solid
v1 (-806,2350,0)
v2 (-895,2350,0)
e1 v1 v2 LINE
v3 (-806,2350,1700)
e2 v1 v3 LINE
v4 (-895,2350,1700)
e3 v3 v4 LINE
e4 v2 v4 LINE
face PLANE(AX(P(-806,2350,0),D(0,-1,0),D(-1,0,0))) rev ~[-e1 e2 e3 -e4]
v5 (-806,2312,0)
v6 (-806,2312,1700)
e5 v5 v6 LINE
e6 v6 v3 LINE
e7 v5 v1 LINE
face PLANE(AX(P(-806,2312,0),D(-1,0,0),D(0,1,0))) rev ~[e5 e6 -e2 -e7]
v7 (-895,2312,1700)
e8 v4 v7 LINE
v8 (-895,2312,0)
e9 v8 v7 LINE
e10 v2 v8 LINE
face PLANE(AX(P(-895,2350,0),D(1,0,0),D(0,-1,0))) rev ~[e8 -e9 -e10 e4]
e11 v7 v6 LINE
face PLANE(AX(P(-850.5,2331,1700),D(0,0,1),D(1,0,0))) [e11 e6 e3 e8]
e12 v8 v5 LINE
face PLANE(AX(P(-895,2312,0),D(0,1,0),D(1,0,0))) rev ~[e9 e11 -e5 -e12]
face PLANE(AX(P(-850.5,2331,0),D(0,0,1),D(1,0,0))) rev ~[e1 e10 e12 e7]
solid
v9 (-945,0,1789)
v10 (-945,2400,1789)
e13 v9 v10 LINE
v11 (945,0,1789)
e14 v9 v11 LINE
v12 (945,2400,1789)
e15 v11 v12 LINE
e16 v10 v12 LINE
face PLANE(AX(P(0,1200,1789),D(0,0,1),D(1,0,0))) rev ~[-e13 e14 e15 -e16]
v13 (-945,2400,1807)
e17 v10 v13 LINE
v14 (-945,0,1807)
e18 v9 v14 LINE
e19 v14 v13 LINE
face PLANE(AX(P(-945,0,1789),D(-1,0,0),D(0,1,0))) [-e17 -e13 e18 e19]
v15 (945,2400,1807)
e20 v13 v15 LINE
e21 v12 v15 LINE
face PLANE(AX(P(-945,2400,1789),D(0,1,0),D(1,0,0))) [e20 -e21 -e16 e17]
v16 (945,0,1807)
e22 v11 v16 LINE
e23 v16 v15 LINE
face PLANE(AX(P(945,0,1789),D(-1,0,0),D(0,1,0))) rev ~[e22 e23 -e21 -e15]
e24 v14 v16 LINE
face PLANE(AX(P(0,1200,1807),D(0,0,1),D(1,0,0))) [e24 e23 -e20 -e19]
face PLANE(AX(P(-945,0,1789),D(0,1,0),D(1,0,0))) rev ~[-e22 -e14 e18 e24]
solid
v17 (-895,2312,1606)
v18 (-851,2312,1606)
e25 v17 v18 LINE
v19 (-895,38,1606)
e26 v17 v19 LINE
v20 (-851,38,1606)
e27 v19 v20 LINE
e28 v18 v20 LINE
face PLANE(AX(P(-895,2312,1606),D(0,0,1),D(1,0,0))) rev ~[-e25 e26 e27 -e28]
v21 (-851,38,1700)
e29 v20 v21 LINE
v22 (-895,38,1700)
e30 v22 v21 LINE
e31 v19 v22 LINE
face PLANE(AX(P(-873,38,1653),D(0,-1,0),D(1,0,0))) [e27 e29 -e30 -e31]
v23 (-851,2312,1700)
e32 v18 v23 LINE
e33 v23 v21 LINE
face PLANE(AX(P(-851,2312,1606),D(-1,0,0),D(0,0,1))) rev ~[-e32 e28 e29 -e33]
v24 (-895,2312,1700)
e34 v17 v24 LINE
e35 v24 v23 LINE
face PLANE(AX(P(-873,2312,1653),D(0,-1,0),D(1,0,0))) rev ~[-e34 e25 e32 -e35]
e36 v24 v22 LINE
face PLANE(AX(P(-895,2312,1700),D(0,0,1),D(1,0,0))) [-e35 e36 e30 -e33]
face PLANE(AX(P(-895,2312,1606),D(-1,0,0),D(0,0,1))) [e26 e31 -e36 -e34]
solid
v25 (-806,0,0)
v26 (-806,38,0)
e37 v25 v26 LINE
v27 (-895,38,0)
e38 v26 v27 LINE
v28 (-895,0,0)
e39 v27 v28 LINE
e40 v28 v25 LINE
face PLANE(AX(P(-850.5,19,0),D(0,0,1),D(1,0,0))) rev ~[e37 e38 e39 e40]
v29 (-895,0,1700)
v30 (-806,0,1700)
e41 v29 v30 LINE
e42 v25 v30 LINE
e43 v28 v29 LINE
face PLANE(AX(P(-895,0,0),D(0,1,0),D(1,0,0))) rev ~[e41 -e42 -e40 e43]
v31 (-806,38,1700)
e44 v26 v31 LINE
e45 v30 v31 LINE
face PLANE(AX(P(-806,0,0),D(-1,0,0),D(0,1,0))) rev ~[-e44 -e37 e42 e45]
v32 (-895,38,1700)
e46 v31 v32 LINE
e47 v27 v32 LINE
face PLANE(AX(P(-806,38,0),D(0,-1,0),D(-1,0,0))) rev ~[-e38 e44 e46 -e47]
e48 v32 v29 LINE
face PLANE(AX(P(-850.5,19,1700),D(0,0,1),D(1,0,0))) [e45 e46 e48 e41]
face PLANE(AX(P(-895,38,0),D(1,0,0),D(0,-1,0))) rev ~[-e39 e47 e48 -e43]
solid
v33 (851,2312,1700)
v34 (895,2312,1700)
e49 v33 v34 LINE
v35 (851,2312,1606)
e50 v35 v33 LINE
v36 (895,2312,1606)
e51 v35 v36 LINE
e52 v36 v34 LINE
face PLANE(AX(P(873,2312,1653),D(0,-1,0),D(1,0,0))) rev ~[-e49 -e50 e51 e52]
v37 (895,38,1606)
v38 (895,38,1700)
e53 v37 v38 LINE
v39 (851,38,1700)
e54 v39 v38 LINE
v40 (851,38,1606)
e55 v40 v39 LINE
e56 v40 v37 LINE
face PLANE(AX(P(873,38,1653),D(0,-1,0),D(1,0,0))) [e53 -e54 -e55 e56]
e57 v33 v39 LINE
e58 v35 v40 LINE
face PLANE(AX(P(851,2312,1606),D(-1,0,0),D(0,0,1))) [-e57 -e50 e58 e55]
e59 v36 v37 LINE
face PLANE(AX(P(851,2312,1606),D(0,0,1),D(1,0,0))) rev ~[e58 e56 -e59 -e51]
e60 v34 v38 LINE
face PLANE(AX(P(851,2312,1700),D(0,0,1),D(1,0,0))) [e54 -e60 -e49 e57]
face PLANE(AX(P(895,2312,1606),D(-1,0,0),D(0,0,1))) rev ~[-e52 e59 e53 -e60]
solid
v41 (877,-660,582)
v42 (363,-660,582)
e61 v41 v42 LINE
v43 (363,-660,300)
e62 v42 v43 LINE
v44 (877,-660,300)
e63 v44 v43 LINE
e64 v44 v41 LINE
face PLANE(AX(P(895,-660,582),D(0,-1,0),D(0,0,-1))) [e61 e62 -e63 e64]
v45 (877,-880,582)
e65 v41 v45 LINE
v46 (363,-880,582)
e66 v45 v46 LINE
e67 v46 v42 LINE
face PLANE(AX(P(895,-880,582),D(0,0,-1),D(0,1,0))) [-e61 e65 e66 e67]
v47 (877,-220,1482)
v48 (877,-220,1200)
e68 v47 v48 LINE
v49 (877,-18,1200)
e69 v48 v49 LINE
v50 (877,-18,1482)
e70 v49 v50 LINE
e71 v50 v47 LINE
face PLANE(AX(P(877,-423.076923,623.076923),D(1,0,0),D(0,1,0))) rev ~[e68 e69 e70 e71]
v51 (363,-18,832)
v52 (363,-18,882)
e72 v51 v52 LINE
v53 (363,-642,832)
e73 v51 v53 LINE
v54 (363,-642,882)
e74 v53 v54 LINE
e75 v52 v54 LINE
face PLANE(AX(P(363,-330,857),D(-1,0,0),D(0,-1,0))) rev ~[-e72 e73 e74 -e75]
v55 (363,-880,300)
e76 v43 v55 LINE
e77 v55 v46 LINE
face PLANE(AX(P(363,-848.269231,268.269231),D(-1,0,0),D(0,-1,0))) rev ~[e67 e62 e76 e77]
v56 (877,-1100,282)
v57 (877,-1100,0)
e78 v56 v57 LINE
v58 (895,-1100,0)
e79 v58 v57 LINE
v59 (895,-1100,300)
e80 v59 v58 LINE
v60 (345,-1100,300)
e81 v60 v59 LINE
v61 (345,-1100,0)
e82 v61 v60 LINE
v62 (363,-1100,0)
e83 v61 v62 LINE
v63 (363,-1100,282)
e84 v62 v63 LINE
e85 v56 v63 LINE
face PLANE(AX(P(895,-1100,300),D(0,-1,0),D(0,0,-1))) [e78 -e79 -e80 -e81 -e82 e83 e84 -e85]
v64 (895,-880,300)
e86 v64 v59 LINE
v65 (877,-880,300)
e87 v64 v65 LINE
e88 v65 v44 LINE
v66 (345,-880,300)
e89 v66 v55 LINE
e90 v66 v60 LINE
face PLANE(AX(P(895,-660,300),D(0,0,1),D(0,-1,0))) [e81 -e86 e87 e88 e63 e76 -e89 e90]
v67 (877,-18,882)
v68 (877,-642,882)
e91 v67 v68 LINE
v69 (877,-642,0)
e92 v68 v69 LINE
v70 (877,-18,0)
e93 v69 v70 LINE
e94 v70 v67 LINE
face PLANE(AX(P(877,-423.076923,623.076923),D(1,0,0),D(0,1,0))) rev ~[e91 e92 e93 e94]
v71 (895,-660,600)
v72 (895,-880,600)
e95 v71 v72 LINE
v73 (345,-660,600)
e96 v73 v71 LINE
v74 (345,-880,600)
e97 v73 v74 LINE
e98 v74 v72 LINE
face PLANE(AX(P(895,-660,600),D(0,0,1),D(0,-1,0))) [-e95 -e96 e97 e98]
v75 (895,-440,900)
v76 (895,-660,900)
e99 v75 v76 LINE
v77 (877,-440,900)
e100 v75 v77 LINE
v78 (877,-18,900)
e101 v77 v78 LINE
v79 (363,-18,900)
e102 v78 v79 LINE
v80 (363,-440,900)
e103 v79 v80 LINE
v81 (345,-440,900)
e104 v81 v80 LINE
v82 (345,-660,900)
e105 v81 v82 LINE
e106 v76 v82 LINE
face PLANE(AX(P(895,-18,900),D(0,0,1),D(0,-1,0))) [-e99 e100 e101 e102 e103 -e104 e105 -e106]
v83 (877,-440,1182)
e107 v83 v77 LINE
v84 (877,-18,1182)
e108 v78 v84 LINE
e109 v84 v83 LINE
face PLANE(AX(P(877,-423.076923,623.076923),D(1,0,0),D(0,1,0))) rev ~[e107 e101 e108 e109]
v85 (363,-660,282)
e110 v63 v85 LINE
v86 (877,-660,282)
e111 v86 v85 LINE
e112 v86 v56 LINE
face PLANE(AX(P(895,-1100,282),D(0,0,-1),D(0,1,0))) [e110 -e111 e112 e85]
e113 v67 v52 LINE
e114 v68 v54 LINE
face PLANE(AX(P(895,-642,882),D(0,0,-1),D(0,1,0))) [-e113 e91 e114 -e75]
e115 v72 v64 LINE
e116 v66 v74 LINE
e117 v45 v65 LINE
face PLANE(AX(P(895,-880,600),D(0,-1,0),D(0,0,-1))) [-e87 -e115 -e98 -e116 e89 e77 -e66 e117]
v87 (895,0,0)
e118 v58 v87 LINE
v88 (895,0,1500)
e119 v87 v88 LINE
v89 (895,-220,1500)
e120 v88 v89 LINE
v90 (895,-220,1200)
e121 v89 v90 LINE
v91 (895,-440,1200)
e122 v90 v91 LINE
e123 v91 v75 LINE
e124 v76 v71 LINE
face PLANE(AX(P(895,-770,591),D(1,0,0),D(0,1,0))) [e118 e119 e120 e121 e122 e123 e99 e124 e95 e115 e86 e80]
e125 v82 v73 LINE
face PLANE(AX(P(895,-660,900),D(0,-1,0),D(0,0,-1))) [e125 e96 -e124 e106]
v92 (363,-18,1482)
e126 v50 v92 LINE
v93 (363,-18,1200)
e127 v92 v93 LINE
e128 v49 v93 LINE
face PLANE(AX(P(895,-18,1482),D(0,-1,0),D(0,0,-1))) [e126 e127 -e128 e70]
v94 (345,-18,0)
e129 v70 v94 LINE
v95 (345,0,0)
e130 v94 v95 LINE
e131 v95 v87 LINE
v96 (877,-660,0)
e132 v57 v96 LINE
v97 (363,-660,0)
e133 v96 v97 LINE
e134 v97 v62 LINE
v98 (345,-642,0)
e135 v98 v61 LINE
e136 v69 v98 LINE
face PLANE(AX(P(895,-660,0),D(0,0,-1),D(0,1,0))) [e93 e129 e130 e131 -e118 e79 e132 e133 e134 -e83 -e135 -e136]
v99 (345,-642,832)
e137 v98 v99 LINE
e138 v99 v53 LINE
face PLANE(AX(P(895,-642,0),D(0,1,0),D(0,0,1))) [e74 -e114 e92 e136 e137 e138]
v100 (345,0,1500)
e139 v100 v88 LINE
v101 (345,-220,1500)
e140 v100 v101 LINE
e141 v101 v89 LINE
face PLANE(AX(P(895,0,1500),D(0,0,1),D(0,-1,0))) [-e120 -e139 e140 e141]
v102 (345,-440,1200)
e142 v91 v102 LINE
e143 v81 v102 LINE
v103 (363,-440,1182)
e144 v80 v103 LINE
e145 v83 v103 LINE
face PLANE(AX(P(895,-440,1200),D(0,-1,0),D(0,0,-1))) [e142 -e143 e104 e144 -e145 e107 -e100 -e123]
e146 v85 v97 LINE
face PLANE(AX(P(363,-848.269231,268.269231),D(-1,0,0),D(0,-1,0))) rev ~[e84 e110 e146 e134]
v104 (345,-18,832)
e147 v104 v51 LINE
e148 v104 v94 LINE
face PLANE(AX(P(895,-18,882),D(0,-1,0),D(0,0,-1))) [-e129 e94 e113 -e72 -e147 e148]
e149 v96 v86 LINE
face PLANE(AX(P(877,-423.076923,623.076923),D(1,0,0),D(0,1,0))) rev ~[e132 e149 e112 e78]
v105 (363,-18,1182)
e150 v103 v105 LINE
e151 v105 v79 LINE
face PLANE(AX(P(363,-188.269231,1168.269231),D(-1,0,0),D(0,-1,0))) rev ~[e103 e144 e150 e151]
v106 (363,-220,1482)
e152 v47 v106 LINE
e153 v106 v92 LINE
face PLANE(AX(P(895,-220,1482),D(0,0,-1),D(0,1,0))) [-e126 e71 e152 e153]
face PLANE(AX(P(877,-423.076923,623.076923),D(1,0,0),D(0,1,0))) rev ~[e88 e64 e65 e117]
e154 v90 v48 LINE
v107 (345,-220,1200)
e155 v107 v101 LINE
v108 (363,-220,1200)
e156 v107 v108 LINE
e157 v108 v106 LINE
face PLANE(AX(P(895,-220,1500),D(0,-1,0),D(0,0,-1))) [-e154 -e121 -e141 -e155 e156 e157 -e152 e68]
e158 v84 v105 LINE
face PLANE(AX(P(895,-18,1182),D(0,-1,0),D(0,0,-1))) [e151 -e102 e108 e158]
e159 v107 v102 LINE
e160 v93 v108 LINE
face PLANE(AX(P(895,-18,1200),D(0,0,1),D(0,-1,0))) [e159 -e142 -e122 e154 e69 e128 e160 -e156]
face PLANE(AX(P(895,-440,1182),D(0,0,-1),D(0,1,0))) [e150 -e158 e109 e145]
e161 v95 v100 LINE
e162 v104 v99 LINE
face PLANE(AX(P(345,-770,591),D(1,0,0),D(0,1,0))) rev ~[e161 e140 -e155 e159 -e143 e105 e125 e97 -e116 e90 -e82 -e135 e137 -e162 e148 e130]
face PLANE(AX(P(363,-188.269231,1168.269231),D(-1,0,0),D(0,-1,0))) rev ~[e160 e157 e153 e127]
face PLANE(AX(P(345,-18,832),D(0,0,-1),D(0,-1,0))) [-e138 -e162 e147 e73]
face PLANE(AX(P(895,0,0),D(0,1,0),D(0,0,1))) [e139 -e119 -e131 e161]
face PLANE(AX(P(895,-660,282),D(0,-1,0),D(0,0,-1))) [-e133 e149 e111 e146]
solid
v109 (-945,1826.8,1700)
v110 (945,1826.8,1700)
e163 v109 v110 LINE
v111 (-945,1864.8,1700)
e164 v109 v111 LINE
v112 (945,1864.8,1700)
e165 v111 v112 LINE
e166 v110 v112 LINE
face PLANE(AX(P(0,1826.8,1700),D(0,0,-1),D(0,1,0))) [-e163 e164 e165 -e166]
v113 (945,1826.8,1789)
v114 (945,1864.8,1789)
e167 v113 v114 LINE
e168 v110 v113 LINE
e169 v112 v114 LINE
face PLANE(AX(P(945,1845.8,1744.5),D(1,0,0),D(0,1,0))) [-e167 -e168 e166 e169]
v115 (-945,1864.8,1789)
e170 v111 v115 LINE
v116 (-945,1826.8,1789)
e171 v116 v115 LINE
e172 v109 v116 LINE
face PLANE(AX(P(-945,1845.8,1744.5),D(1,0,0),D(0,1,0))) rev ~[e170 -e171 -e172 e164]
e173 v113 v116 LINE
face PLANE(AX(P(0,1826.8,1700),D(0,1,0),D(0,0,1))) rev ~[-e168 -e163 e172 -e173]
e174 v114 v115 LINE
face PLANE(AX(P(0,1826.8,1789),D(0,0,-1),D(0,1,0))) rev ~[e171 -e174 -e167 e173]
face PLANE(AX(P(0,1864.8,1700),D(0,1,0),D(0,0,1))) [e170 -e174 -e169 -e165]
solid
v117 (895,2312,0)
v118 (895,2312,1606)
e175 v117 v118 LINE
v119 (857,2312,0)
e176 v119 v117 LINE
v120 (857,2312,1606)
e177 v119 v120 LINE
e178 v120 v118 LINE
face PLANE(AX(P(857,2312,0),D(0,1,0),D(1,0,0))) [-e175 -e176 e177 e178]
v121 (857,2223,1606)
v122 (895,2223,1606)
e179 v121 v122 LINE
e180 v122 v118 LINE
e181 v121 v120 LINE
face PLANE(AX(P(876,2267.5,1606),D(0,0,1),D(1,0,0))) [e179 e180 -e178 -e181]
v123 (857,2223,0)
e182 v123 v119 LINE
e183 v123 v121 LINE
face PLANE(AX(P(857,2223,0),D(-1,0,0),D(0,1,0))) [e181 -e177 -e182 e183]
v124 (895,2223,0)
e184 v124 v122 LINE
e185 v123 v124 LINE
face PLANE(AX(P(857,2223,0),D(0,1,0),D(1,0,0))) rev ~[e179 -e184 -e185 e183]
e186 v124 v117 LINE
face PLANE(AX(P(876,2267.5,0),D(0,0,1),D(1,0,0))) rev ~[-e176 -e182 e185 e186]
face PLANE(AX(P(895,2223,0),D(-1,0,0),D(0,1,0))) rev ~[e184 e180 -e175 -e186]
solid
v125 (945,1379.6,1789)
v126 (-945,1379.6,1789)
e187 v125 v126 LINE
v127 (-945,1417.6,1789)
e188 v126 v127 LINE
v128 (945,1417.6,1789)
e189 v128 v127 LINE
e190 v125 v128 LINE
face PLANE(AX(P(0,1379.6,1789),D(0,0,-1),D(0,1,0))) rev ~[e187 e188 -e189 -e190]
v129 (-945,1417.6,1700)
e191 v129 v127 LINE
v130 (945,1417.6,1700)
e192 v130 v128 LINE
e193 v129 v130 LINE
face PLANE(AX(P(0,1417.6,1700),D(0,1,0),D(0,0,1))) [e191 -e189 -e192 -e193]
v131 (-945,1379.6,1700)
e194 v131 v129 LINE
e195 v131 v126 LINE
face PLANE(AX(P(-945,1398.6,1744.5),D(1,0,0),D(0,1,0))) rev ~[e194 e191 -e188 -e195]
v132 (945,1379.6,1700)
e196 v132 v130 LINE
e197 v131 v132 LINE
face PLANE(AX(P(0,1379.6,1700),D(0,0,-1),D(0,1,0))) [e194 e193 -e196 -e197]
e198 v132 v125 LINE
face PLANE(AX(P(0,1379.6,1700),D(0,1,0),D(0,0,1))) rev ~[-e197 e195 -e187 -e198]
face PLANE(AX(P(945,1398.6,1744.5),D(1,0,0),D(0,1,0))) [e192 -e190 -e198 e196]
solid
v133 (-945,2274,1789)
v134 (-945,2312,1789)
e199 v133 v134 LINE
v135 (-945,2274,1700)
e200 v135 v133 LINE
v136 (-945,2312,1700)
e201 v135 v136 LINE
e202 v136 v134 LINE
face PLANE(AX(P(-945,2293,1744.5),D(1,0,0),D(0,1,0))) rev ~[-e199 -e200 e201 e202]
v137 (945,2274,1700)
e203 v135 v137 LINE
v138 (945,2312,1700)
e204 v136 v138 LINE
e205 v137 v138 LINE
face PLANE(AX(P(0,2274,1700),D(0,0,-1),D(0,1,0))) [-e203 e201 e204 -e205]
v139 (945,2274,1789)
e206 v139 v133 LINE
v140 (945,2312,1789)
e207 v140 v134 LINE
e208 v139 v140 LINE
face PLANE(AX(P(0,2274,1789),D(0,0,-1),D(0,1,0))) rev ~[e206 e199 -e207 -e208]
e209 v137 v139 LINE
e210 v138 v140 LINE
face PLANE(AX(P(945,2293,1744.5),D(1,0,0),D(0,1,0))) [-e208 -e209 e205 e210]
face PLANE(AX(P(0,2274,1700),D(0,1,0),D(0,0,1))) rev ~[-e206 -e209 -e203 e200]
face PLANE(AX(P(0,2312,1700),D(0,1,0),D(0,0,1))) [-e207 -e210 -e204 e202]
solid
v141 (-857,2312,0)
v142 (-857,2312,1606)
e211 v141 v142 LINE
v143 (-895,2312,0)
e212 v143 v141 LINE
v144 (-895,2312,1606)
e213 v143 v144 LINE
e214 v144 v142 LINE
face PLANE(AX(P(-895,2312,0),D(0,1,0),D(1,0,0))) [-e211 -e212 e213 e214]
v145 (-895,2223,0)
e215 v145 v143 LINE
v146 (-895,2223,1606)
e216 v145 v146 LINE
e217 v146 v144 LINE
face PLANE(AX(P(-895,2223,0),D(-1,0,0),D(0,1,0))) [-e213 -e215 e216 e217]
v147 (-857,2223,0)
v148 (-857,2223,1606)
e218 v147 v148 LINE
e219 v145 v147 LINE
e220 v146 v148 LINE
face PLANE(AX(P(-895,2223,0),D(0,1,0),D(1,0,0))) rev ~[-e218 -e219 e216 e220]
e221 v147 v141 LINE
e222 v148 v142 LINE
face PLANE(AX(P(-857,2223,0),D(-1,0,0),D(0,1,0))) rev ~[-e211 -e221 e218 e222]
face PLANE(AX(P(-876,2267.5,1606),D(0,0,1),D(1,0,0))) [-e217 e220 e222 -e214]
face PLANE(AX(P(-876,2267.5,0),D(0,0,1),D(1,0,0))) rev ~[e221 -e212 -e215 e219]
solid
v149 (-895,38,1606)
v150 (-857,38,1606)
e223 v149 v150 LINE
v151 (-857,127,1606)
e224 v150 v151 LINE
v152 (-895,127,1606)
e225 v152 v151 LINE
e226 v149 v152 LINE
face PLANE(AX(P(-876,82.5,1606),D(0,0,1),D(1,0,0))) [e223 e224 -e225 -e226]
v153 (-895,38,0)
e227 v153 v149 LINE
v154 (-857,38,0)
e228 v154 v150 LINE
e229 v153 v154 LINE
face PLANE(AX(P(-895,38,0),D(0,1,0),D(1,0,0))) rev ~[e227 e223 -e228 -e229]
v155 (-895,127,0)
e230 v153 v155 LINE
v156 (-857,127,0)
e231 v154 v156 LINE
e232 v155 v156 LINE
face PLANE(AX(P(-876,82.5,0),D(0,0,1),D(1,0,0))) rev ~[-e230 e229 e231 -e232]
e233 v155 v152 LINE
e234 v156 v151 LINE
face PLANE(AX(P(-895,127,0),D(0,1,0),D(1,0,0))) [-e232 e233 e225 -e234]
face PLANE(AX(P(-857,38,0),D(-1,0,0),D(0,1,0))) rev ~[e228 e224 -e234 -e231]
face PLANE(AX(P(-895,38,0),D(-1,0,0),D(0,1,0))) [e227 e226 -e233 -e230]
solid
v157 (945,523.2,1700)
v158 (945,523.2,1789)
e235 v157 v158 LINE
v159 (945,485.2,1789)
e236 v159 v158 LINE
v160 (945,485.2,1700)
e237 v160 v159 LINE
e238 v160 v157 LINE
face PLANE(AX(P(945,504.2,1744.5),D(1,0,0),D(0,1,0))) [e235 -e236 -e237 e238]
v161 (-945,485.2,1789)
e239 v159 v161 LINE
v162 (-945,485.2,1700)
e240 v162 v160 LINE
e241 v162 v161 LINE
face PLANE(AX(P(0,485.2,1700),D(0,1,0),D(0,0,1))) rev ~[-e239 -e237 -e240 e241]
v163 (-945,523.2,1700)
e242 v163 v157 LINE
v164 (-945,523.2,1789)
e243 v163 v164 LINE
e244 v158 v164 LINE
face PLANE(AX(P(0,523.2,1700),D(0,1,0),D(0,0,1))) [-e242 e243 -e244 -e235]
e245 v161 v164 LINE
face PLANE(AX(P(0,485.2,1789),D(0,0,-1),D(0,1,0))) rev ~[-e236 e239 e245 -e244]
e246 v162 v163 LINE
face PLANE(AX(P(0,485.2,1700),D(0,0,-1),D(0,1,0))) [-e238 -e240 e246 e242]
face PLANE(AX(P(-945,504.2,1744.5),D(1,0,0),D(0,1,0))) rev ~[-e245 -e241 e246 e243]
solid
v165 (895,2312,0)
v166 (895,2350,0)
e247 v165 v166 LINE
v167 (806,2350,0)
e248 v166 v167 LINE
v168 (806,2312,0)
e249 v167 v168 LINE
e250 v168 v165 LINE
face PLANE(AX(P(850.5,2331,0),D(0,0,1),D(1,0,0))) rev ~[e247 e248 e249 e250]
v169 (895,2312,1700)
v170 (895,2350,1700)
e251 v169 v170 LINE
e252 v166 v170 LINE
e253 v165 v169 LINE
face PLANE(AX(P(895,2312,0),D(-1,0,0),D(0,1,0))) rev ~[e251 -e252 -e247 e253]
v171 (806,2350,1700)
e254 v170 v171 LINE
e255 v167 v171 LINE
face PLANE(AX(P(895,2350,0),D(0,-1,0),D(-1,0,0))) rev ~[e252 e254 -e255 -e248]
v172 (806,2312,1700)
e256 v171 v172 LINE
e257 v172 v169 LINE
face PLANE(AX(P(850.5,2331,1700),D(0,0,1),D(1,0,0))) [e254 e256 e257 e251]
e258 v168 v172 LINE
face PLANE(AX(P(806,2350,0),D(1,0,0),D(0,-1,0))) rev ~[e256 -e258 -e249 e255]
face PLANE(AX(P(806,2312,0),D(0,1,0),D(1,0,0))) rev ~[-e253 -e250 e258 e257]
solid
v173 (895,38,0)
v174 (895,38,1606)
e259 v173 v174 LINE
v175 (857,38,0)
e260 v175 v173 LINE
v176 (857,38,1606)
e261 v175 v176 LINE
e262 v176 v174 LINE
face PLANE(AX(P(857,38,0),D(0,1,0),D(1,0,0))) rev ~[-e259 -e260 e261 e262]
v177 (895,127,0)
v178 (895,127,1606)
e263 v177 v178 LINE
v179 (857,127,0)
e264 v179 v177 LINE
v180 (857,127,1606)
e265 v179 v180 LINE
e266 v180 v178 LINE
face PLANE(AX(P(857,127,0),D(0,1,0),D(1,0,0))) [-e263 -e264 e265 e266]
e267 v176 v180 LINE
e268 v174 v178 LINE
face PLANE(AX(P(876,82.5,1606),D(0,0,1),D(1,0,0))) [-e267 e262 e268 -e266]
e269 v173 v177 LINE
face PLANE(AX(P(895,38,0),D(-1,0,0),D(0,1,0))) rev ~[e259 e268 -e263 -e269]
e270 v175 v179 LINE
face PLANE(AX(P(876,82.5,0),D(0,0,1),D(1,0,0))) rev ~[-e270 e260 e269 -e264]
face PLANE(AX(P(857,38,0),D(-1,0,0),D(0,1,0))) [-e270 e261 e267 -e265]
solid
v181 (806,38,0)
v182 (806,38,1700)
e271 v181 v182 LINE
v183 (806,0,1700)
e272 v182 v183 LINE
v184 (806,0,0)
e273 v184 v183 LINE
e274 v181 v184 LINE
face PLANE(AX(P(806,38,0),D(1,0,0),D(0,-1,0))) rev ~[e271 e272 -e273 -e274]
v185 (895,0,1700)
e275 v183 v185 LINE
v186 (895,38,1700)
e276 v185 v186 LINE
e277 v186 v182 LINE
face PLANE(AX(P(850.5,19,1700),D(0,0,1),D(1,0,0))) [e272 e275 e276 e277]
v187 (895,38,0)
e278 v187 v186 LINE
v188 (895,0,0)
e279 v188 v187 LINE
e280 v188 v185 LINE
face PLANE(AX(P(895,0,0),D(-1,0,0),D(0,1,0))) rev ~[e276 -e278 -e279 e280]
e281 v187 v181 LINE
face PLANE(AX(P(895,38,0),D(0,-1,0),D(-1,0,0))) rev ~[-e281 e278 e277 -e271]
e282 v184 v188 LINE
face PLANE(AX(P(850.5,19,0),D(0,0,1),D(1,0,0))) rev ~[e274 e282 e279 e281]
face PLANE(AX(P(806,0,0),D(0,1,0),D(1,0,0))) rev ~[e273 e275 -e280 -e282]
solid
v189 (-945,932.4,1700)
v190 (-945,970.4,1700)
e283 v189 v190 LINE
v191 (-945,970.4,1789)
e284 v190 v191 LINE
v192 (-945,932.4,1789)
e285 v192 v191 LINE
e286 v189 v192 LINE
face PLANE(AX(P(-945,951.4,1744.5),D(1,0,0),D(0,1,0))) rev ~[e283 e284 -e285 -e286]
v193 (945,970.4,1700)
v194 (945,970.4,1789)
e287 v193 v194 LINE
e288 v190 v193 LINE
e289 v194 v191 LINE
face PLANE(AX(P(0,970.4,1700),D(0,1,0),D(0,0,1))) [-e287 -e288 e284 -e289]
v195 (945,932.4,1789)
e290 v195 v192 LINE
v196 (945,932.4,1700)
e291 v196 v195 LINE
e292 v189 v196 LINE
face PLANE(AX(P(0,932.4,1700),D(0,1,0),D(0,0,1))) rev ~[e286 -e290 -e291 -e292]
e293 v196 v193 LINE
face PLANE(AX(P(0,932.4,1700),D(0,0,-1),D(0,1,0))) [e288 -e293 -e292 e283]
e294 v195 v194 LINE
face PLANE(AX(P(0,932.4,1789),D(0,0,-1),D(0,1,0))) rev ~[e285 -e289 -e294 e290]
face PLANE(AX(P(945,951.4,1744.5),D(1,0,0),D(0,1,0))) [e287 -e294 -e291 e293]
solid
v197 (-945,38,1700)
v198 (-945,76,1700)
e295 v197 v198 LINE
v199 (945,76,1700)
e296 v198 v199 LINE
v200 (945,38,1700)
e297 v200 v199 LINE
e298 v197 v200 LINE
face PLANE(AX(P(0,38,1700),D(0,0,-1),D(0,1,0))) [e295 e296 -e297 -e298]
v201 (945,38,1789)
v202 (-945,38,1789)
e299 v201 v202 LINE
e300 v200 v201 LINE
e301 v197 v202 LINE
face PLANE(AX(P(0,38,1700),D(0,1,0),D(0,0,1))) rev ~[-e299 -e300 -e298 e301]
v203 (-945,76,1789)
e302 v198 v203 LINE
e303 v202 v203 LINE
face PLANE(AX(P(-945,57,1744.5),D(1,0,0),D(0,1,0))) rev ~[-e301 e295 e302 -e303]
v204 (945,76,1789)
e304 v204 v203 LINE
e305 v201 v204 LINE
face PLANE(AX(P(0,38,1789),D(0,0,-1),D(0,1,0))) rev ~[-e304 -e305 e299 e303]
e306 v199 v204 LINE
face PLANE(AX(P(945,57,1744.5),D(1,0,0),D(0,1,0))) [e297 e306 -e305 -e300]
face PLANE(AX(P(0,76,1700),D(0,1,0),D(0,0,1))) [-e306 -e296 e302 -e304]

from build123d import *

# Parameters (mm, degrees)
F1_DEPTH      = 1700
F0_W          = 38
F0_H          = 89
F2_DEPTH      = 1606
F3_W          = 44
F3_H          = 94
F4_DEPTH      = 2274
F5_W          = 38
F5_H          = 89
F6_DEPTH      = 945
F6_DEPTH_BACK = 945
F7_W          = 1890
F7_H          = 2400
F8_DEPTH      = 18
F10_DEPTH     = 550
F12_DEPTH     = 18
F13_W         = 624
F13_H         = 50
F14_DEPTH     = 18


with BuildPart() as f1:
    # F0 (on Top) → F1 (new body)
    with BuildSketch(Plane.XY):
        Polygon((-806, 2350), (-895, 2350), (-895, 2312), (-857, 2312), (-806, 2312), align=None)
    extrude(amount=F1_DEPTH)


with BuildPart() as f1b:
    # F0 (on Top) → F1, piece 2 (new body)
    with BuildSketch(Plane.XY):
        Polygon((895, 2350), (806, 2350), (806, 2312), (857, 2312), (895, 2312), align=None)
    extrude(amount=F1_DEPTH)


with BuildPart() as f1c:
    # F0 (on Top) → F1, piece 3 (new body)
    with BuildSketch(Plane.XY):
        Polygon((895, 0), (895, 38), (857, 38), (806, 38), (806, 0), align=None)
    extrude(amount=F1_DEPTH)


with BuildPart() as f1d:
    # F0 (on Top) → F1, piece 4 (new body)
    with BuildSketch(Plane.XY):
        Polygon((-895, 38), (-895, 0), (-806, 0), (-806, 38), (-857, 38), align=None)
    extrude(amount=F1_DEPTH)


with BuildPart() as f2:
    # F0 (on Top) → F2 (new body)
    with BuildSketch(Plane.XY):
        with Locations((-876, 2267.5)):
            Rectangle(F0_W, F0_H)
    extrude(amount=F2_DEPTH)


with BuildPart() as f2b:
    # F0 (on Top) → F2, piece 2 (new body)
    with BuildSketch(Plane.XY):
        with Locations((876, 2267.5)):
            Rectangle(F0_W, F0_H)
    extrude(amount=F2_DEPTH)


with BuildPart() as f2c:
    # F0 (on Top) → F2, piece 3 (new body)
    with BuildSketch(Plane.XY):
        with Locations((876, 82.5)):
            Rectangle(F0_W, F0_H)
    extrude(amount=F2_DEPTH)


with BuildPart() as f2d:
    # F0 (on Top) → F2, piece 4 (new body)
    with BuildSketch(Plane.XY):
        with Locations((-876, 82.5)):
            Rectangle(F0_W, F0_H)
    extrude(amount=F2_DEPTH)


with BuildPart() as f4:
    # F3 (on face) → F4 (new body, through all)
    with BuildSketch(Plane.XZ.offset(-2312)):
        with Locations((-873, 1653)):
            Rectangle(F3_W, F3_H)
    extrude(amount=F4_DEPTH)


with BuildPart() as f4b:
    # F3 (on face) → F4, piece 2 (new body, through all)
    with BuildSketch(Plane.XZ.offset(-2312)):
        with Locations((873, 1653)):
            Rectangle(F3_W, F3_H)
    extrude(amount=F4_DEPTH)


with BuildPart() as f6:
    # F5 (on Right) → F6 (new body, two sides)
    with BuildSketch(Plane.YZ) as f6_sk:
        with Locations((504.2, 1744.5)):
            Rectangle(F5_W, F5_H)
    extrude(amount=F6_DEPTH)
    extrude(f6_sk.sketch, amount=-F6_DEPTH_BACK)


with BuildPart() as f6b:
    # F5 (on Right) → F6, piece 2 (new body, two sides)
    with BuildSketch(Plane.YZ) as f6_2_sk:
        with Locations((951.4, 1744.5)):
            Rectangle(F5_W, F5_H)
    extrude(amount=F6_DEPTH)
    extrude(f6_2_sk.sketch, amount=-F6_DEPTH_BACK)


with BuildPart() as f6c:
    # F5 (on Right) → F6, piece 3 (new body, two sides)
    with BuildSketch(Plane.YZ) as f6_3_sk:
        with Locations((1398.6, 1744.5)):
            Rectangle(F5_W, F5_H)
    extrude(amount=F6_DEPTH)
    extrude(f6_3_sk.sketch, amount=-F6_DEPTH_BACK)


with BuildPart() as f6d:
    # F5 (on Right) → F6, piece 4 (new body, two sides)
    with BuildSketch(Plane.YZ) as f6_4_sk:
        with Locations((1845.8, 1744.5)):
            Rectangle(F5_W, F5_H)
    extrude(amount=F6_DEPTH)
    extrude(f6_4_sk.sketch, amount=-F6_DEPTH_BACK)


with BuildPart() as f6e:
    # F5 (on Right) → F6, piece 5 (new body, two sides)
    with BuildSketch(Plane.YZ) as f6_5_sk:
        with Locations((57, 1744.5)):
            Rectangle(F5_W, F5_H)
    extrude(amount=F6_DEPTH)
    extrude(f6_5_sk.sketch, amount=-F6_DEPTH_BACK)


with BuildPart() as f6f:
    # F5 (on Right) → F6, piece 6 (new body, two sides)
    with BuildSketch(Plane.YZ) as f6_6_sk:
        with Locations((2293, 1744.5)):
            Rectangle(F5_W, F5_H)
    extrude(amount=F6_DEPTH)
    extrude(f6_6_sk.sketch, amount=-F6_DEPTH_BACK)


with BuildPart() as f8:
    # F7 (on face) → F8 (new body)
    with BuildSketch(Plane.XY.offset(1789)):
        with Locations((0, 1200)):
            Rectangle(F7_W, F7_H)
    extrude(amount=F8_DEPTH)


with BuildPart() as f10:
    # F9 (on face) → F10 (new body)
    with BuildSketch(Plane.YZ.offset(895)):
        Polygon((-660, 582), (-660, 600), (-880, 600), (-880, 582), (-862, 582), align=None)
        Polygon((-202, 1200), (-220, 1200), (-440, 1200), (-440, 1182), (-422, 1182), (-202, 1182), (-18, 1182), (-18, 1200), align=None)
        Polygon((-862, 282), (-660, 282), (-660, 300), (-862, 300), (-880, 300), (-1100, 300), (-1100, 282), (-1082, 282), align=None)
        Polygon((0, 1200), (0, 1500), (-220, 1500), (-220, 1482), (-202, 1482), (-18, 1482), (-18, 1200), (-18, 1182), (-18, 900), (-18, 882), (-18, 0), (0, 0), (0, 1182), align=None)
        Polygon((-660, 0), (-642, 0), (-642, 582), (-642, 882), (-422, 882), (-18, 882), (-18, 900), (-422, 900), (-440, 900), (-660, 900), (-660, 600), (-660, 582), (-660, 300), (-660, 282), align=None)
    extrude(amount=-F10_DEPTH)

    # F11 (on face) → F12 (join)
    with BuildSketch(Plane.YZ.offset(895)):
        Polygon((0, 0), (0, 1500), (-220, 1500), (-220, 1200), (-440, 1200), (-440, 900), (-660, 900), (-660, 600), (-880, 600), (-880, 300), (-1100, 300), (-1100, 0), align=None)
    extrude(amount=-F12_DEPTH)

    # F13 (on face) → F14 (join)
    with BuildSketch(Plane(origin=(345, 0, 0), x_dir=(0, -1, 0), z_dir=(-1, 0, 0))):
        Polygon((220, 1500), (0, 1500), (0, 900), (440, 900), (440, 1200), (220, 1200), align=None)
        Polygon((880, 600), (660, 600), (660, 0), (1100, 0), (1100, 300), (880, 300), align=None)
        with Locations((330, 857)):
            Rectangle(F13_W, F13_H)
    extrude(amount=-F14_DEPTH)


solid = Compound([f1.part, f1b.part, f1c.part, f1d.part, f2.part, f2b.part, f2c.part, f2d.part, f4.part, f4b.part, f6.part, f6b.part, f6c.part, f6d.part, f6e.part, f6f.part, f8.part, f10.part])
